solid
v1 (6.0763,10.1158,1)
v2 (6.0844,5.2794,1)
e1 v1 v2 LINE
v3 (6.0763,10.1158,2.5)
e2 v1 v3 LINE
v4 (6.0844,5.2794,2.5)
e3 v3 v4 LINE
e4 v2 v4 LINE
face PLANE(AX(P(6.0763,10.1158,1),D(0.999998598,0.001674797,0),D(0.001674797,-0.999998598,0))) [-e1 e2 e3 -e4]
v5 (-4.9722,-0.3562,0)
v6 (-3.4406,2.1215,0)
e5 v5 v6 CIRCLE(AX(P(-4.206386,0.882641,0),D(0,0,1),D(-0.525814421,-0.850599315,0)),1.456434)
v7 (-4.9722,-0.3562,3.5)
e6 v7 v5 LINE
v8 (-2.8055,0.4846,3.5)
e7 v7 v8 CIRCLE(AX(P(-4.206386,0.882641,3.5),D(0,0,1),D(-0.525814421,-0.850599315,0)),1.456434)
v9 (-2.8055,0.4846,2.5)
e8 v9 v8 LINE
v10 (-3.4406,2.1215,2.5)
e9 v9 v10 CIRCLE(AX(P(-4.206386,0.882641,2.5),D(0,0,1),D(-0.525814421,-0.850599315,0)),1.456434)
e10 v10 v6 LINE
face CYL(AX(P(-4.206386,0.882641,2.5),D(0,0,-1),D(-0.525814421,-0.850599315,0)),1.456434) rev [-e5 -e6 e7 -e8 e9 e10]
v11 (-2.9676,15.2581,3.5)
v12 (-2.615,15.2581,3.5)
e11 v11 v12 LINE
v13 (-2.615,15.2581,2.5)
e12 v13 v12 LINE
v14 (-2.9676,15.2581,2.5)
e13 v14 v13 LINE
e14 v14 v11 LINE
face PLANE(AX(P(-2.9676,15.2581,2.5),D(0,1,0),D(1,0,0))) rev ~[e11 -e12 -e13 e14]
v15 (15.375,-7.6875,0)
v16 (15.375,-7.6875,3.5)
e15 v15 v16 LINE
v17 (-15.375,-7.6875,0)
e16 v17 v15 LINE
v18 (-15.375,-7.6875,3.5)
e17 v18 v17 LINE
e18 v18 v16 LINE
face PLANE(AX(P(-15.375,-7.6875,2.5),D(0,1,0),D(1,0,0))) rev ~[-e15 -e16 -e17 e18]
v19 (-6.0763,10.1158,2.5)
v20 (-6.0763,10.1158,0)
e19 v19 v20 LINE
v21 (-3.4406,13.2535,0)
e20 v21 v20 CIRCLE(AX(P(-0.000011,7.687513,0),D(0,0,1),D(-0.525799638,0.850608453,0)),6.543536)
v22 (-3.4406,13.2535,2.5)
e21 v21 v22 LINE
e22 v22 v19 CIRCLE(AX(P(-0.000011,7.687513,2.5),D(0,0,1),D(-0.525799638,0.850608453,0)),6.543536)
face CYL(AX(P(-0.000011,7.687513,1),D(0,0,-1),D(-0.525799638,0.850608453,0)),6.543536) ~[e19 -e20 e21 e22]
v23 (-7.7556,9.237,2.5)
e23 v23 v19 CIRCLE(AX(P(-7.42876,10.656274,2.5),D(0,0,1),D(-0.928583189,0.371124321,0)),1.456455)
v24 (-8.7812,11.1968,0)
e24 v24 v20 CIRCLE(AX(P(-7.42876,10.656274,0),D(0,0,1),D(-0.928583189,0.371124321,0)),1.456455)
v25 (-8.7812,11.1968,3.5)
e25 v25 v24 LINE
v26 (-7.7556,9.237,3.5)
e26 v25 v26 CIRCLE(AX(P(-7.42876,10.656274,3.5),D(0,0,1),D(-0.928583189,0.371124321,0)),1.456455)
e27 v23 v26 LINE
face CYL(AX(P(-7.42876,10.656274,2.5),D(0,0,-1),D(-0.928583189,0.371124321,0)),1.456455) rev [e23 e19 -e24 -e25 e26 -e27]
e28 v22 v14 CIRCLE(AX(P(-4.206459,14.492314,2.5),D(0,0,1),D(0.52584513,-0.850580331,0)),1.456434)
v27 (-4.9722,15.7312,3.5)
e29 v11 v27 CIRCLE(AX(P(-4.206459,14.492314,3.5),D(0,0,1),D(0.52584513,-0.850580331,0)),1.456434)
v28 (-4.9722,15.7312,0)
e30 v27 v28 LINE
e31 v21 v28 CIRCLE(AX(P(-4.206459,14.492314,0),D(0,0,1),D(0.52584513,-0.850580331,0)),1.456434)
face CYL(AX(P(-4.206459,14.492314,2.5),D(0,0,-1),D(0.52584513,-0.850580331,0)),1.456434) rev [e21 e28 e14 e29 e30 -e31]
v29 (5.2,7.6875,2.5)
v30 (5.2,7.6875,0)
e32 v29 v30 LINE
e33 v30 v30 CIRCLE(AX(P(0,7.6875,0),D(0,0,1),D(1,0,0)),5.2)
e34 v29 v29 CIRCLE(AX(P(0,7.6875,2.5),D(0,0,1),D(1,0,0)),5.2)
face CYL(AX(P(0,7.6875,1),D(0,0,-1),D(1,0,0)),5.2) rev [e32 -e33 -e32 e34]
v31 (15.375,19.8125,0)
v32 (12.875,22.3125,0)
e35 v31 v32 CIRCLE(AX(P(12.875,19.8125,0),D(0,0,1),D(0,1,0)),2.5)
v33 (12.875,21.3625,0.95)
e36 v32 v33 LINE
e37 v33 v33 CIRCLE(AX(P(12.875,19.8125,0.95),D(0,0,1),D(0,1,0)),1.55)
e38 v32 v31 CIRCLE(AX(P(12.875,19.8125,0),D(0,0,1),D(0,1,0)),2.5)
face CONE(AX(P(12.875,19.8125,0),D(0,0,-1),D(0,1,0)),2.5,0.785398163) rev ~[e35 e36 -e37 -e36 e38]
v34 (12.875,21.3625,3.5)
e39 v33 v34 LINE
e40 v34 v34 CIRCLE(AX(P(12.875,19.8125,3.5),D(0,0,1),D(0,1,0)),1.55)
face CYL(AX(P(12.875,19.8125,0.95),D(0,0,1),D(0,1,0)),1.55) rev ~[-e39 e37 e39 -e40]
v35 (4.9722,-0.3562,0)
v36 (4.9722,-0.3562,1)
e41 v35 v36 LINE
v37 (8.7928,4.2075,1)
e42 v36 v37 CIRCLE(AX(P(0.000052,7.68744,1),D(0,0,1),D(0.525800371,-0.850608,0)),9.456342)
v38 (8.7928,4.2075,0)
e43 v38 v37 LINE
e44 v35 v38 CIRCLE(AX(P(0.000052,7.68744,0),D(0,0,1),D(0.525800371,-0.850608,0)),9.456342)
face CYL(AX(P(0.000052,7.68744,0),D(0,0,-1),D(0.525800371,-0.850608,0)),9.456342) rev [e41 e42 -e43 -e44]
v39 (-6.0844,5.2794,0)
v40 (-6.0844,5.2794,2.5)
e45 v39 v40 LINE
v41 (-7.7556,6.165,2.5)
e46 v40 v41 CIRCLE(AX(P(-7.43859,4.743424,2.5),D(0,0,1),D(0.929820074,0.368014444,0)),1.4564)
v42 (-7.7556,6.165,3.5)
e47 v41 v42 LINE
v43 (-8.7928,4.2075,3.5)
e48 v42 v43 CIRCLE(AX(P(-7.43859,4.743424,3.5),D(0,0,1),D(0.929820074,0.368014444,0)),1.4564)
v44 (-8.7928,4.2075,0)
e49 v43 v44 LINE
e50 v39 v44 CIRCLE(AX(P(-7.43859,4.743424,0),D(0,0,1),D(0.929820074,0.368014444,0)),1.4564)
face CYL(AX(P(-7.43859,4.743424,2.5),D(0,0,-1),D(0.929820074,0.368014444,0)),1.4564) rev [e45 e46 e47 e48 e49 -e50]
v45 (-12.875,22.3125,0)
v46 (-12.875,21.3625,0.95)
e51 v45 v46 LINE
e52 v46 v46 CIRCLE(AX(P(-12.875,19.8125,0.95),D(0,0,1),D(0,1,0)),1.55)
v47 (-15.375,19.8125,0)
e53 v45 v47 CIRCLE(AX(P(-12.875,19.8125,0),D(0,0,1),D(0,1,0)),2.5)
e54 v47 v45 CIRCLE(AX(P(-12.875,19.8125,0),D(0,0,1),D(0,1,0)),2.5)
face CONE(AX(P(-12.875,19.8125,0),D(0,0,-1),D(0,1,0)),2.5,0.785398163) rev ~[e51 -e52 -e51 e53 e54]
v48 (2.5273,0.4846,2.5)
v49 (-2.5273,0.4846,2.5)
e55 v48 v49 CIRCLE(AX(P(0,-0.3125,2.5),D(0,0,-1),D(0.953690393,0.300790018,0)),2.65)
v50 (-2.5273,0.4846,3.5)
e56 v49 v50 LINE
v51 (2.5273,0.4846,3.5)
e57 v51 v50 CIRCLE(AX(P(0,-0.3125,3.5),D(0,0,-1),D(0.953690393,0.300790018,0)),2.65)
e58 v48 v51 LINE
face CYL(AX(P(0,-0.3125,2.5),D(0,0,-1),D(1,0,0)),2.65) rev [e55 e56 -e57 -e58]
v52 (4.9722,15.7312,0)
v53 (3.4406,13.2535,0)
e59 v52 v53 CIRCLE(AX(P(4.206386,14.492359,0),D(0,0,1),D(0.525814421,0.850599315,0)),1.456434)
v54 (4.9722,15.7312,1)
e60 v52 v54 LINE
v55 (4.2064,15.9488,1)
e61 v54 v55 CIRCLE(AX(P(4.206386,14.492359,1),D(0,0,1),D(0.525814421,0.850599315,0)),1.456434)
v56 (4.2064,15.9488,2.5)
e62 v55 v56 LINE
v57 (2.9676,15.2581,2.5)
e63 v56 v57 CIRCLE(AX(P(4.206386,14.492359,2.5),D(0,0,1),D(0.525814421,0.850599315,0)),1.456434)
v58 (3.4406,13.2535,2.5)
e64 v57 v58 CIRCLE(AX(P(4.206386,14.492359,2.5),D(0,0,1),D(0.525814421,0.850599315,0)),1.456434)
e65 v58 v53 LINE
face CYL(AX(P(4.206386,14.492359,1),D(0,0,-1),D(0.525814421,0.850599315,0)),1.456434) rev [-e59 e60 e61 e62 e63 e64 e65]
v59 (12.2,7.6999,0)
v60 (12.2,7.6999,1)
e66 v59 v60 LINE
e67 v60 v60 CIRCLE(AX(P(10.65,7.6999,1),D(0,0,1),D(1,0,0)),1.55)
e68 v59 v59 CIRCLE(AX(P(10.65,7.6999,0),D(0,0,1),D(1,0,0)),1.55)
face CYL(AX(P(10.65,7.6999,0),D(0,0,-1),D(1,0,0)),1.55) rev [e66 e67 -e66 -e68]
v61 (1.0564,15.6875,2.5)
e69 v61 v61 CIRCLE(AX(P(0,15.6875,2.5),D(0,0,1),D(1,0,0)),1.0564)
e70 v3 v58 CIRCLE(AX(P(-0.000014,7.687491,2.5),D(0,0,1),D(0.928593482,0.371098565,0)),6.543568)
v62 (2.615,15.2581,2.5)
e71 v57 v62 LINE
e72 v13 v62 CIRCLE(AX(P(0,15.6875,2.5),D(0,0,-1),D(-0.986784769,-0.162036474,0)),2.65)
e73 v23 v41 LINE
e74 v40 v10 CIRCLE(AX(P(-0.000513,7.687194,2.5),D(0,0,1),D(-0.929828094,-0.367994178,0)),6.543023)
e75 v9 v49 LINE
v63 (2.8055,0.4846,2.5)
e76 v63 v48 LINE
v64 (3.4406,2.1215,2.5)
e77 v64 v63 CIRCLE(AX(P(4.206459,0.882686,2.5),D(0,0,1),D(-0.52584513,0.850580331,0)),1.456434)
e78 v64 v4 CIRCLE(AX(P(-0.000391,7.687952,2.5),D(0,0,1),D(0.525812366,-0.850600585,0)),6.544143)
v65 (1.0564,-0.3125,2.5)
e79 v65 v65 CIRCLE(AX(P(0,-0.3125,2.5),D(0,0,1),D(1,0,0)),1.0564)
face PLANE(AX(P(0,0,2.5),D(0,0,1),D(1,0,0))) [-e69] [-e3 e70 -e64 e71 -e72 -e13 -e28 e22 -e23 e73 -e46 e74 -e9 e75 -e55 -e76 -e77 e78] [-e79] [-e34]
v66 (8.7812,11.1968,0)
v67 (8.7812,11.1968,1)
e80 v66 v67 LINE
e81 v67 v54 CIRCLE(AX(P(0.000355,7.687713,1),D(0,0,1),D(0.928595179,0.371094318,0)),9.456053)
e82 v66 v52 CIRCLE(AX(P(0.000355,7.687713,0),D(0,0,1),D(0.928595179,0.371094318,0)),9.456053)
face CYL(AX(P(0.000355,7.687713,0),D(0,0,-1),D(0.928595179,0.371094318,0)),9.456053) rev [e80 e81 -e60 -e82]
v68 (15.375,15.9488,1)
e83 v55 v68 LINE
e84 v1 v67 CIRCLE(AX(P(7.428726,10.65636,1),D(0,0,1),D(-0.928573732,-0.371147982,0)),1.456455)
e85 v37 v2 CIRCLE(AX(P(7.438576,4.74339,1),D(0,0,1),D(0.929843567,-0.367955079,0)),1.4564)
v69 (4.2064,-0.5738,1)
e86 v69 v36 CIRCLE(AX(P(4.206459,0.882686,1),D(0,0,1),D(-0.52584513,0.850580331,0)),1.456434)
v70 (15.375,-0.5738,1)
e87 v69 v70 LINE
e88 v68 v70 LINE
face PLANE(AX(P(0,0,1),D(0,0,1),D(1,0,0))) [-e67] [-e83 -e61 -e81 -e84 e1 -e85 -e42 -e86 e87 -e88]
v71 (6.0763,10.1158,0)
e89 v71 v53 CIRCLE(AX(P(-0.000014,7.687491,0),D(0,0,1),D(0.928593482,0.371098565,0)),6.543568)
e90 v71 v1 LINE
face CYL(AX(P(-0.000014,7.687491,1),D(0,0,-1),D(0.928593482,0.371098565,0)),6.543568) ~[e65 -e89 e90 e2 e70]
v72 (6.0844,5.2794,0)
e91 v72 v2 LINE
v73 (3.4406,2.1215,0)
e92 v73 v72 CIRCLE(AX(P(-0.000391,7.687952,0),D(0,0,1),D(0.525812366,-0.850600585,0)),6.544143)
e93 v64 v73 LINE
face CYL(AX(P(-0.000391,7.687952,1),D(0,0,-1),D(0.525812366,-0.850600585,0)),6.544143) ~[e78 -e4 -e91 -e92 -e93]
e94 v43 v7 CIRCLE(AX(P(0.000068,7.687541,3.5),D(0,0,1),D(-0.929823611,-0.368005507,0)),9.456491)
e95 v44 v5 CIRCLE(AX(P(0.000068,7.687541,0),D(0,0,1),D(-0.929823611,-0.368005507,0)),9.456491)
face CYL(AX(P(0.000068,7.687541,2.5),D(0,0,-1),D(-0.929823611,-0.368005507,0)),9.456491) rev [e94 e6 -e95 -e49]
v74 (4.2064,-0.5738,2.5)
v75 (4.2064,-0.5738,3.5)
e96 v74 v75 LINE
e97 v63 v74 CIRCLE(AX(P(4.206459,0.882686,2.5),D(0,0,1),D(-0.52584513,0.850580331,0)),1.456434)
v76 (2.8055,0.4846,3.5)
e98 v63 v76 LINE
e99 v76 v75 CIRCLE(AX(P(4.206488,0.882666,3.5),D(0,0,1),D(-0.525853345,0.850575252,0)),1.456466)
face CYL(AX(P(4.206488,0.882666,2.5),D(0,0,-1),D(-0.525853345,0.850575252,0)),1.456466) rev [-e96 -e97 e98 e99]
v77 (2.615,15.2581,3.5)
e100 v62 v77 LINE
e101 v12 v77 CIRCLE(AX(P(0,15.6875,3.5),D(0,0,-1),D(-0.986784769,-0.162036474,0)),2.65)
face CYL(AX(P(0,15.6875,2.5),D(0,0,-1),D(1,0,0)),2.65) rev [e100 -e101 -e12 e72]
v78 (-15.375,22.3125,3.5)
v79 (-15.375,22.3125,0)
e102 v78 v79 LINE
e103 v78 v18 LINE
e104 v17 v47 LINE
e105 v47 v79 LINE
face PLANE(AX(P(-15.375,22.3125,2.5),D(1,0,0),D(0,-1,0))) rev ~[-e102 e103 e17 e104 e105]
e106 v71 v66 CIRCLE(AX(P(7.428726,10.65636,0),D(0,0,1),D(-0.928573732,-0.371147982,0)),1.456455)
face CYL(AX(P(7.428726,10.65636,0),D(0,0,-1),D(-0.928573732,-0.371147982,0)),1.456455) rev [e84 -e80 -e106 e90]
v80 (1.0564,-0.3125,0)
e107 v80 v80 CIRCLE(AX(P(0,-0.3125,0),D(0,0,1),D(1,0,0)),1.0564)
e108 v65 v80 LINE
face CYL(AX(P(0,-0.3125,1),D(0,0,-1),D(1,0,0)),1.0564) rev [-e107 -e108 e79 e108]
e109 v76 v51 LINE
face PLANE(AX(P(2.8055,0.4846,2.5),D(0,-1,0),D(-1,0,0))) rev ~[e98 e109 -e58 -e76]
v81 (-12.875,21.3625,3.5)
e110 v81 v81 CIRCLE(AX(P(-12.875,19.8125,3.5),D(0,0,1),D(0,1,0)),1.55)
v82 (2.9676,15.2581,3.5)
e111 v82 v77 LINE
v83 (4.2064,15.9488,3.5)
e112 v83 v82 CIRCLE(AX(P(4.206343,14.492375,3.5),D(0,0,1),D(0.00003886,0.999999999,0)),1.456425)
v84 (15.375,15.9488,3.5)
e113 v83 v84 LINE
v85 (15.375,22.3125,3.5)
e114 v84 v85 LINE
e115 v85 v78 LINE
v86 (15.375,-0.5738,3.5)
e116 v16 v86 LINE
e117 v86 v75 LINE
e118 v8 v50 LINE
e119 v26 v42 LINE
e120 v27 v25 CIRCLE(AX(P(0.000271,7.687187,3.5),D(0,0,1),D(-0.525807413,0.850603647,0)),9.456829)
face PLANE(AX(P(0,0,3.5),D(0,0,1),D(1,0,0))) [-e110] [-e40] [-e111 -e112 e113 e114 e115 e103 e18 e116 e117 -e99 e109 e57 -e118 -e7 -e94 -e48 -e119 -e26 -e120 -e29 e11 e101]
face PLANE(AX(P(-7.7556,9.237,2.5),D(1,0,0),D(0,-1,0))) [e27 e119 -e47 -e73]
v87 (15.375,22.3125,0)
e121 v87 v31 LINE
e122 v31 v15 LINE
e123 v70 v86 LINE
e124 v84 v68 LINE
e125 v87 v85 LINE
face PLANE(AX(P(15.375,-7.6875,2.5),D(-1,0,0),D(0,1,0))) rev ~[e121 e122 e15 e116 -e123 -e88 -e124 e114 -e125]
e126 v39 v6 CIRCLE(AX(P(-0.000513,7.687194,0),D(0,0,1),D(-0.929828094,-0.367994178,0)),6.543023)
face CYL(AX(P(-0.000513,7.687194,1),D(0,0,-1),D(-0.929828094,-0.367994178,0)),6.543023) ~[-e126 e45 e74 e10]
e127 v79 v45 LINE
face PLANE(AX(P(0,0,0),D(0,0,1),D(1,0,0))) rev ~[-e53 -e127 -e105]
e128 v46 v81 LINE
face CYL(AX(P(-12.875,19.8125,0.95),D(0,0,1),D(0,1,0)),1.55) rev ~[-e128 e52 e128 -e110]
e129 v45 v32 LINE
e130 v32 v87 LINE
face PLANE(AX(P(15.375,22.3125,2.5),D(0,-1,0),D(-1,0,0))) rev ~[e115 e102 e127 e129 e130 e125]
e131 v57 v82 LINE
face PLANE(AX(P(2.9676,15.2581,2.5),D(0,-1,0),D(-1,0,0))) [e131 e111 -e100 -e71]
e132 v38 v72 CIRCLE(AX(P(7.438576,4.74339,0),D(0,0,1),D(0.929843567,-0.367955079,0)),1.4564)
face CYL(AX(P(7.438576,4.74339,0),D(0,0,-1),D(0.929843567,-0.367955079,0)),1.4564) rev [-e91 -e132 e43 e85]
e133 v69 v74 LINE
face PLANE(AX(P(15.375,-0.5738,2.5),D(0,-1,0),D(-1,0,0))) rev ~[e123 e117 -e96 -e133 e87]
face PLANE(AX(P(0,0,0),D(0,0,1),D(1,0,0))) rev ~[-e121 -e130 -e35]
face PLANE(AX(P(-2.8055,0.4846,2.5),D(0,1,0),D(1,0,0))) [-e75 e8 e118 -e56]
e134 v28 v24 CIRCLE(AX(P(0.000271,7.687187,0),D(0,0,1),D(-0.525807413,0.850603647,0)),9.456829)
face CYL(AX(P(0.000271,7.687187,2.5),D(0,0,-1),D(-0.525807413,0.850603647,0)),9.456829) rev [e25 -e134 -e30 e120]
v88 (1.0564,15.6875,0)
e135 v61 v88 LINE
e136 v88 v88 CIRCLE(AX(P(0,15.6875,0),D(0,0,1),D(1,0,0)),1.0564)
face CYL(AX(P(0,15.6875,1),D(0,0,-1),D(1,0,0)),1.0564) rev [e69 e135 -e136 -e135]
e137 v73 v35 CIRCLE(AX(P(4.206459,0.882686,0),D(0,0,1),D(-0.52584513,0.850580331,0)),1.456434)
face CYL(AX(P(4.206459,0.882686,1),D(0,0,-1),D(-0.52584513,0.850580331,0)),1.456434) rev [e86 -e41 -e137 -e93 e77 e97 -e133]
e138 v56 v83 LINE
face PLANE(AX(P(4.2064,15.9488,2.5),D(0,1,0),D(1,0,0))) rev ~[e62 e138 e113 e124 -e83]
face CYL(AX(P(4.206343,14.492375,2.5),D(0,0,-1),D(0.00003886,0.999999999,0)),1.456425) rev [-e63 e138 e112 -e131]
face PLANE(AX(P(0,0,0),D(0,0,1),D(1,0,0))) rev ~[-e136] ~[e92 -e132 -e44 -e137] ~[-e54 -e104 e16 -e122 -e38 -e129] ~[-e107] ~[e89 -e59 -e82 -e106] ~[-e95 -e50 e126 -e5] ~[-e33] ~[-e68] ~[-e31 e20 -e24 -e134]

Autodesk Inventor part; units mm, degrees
ref_plane "YZ Plane" through (0, 0, 0) normal (1, 0, 0) x (0, 1, 0)
ref_plane "XZ Plane" through (0, 0, 0) normal (0, 1, 0) x (-1, 0, 0)
ref_plane "XY Plane" through (0, 0, 0) normal (0, 0, 1) x (1, 0, 0)
ref_plane "Work Plane1" through (0, 0, 0) normal (0, 0, 1) x (1, 0, 0)
sketch "Sketch1" plane through (0, 0, 0) normal (0, 0, 1) x (1, 0, 0)
  arc A0 (-3.651, 13.5937) -> (-4.7619, 15.391) centre (-4.2064, 14.4923) ccw projected
  arc A1 (-3.651, 13.5937) -> (-6.4477, 10.2643) centre (0, 7.6875) ccw projected
  arc A2 (-8.4097, 11.0483) -> (-6.4477, 10.2643) centre (-7.4287, 10.6563) ccw projected
  arc A3 (-4.7619, 15.391) -> (-8.4097, 11.0483) centre (0, 7.6875) ccw projected
  arc A4 (6.4477, 10.2643) -> (8.4097, 11.0483) centre (7.4287, 10.6563) ccw projected
  arc A5 (6.4477, 10.2643) -> (3.651, 13.5937) centre (0, 7.6875) ccw projected
  arc A6 (4.7619, 15.391) -> (3.651, 13.5937) centre (4.2064, 14.4923) ccw projected
  arc A7 (8.4097, 11.0483) -> (4.7619, 15.391) centre (0, 7.6875) ccw projected
  arc A8 (-6.4563, 5.1322) -> (-8.4209, 4.3547) centre (-7.4386, 4.7434) ccw projected
  arc A9 (-6.4563, 5.1322) -> (-3.651, 1.7813) centre (0, 7.6875) ccw projected
  arc A10 (-4.7619, -0.016) -> (-3.651, 1.7813) centre (-4.2064, 0.8827) ccw projected
  arc A11 (-8.4209, 4.3547) -> (-4.7619, -0.016) centre (0, 7.6875) ccw projected
  arc A12 (3.651, 1.7813) -> (4.7619, -0.016) centre (4.2064, 0.8827) ccw projected
  arc A13 (3.651, 1.7813) -> (6.4563, 5.1322) centre (0, 7.6875) ccw projected
  arc A14 (8.4209, 4.3547) -> (6.4563, 5.1322) centre (7.4386, 4.7434) ccw projected
  arc A15 (4.7619, -0.016) -> (8.4209, 4.3547) centre (0, 7.6875) ccw projected
  circle A16 centre (10.65, 7.6999) radius 1.15 projected
  circle A17 centre (0, 15.6875) radius 1.0564 projected
  circle A18 centre (0, -0.3125) radius 1.0564 projected
  circle A19 centre (0, 7.6875) radius 5 projected
  circle A20 centre (0, 7.6875) radius 13.7 projected
  line L0 (-116.625, -11.1875) -> (15.375, -11.1875) projected
  line L1 (15.375, -11.1875) -> (15.375, -7.6875) projected
  line L2 (-116.625, -7.6875) -> (15.375, -7.6875) projected
  line L3 (-116.625, -11.1875) -> (-116.625, -7.6875) projected
  line L4 (15.375, -7.6875) -> (-15.375, -7.6875)
  line L5 (-15.375, -7.6875) -> (-15.375, 22.3125)
  line L6 (-15.375, 22.3125) -> (15.375, 22.3125)
  line L7 (15.375, 22.3125) -> (15.375, -7.6875)
  circle A21 centre (0, 7.6875) radius 14.375 projected
  circle A22 centre (0, 7.6875) radius 5.2
  arc A23 (-3.4406, 13.2535) -> (-4.9722, 15.7312) centre (-4.2064, 14.4923) ccw
  arc A24 (-3.4406, 13.2535) -> (-6.0763, 10.1158) centre (0, 7.6875) ccw
  arc A25 (-8.7812, 11.1968) -> (-6.0763, 10.1158) centre (-7.4287, 10.6563) ccw
  arc A26 (-4.9722, 15.7312) -> (-8.7812, 11.1968) centre (0, 7.6875) ccw
  arc A27 (4.9722, 15.7312) -> (3.4406, 13.2535) centre (4.2064, 14.4923) ccw
  arc A28 (6.0763, 10.1158) -> (3.4406, 13.2535) centre (0, 7.6875) ccw
  arc A29 (6.0763, 10.1158) -> (8.7812, 11.1968) centre (7.4287, 10.6563) ccw
  arc A30 (8.7812, 11.1968) -> (4.9722, 15.7312) centre (0, 7.6875) ccw
  arc A31 (3.4406, 2.1215) -> (6.0844, 5.2794) centre (0, 7.6875) ccw
  arc A32 (3.4406, 2.1215) -> (4.9722, -0.3562) centre (4.2064, 0.8827) ccw
  arc A33 (4.9722, -0.3562) -> (8.7928, 4.2075) centre (0, 7.6875) ccw
  arc A34 (8.7928, 4.2075) -> (6.0844, 5.2794) centre (7.4386, 4.7434) ccw
  arc A35 (-6.0844, 5.2794) -> (-8.7928, 4.2075) centre (-7.4386, 4.7434) ccw
  arc A36 (-6.0844, 5.2794) -> (-3.4406, 2.1215) centre (0, 7.6875) ccw
  arc A37 (-4.9722, -0.3562) -> (-3.4406, 2.1215) centre (-4.2064, 0.8827) ccw
  arc A38 (-8.7928, 4.2075) -> (-4.9722, -0.3562) centre (0, 7.6875) ccw
  circle A39 centre (10.65, 7.6999) radius 1.55
  point P0 (0, 0)
  dimension "d0" = 30
  dimension "d1" = 15.375
  dimension "d2" = 15.375
  dimension "d3" = 0.2
  dimension "d4" = 0.4
  dimension "d5" = 0.4
  dimension "d6" = 0.4
  dimension "d7" = 0.4
  dimension "d8" = 0.4
extrude "Extrusion1" add sketch "Sketch1" along normal blind 1 contours A20 | L2 L5 L6 L7 | A21
sketch "Sketch2" plane through (0, 0, 1) normal (0, 0, 1) x (1, 0, 0)
  line L0 (15.375, 22.3125) -> (-15.375, 22.3125) projected
  line L1 (-15.375, 22.3125) -> (-15.375, -7.6875) projected
  line L2 (-15.375, -7.6875) -> (15.375, -7.6875) projected
  line L3 (15.375, -7.6875) -> (15.375, 22.3125) projected
  circle A0 centre (0, 15.6875) radius 1.0564 projected
  circle A1 centre (0, -0.3125) radius 1.0564 projected
  circle A2 centre (0, 7.6875) radius 5.2 projected
  arc A3 (-3.4406, 13.2535) -> (-6.0763, 10.1158) centre (0, 7.6875) ccw projected
  arc A4 (-8.7812, 11.1968) -> (-6.0763, 10.1158) centre (-7.4287, 10.6563) ccw projected
  arc A5 (-4.9722, 15.7312) -> (-8.7812, 11.1968) centre (0, 7.6875) ccw projected
  arc A6 (-3.4406, 13.2535) -> (-4.9722, 15.7312) centre (-4.2064, 14.4923) ccw projected
  arc A7 (6.0763, 10.1158) -> (3.4406, 13.2535) centre (0, 7.6875) ccw projected
  arc A8 (4.9722, 15.7312) -> (3.4406, 13.2535) centre (4.2064, 14.4923) ccw projected
  arc A9 (8.7812, 11.1968) -> (4.9722, 15.7312) centre (0, 7.6875) ccw projected
  arc A10 (6.0763, 10.1158) -> (8.7812, 11.1968) centre (7.4287, 10.6563) ccw projected
  arc A11 (3.4406, 2.1215) -> (4.9722, -0.3562) centre (4.2064, 0.8827) ccw projected
  arc A12 (3.4406, 2.1215) -> (6.0844, 5.2794) centre (0, 7.6875) ccw projected
  arc A13 (8.7928, 4.2075) -> (6.0844, 5.2794) centre (7.4386, 4.7434) ccw projected
  arc A14 (4.9722, -0.3562) -> (8.7928, 4.2075) centre (0, 7.6875) ccw projected
  arc A15 (-6.0844, 5.2794) -> (-3.4406, 2.1215) centre (0, 7.6875) ccw projected
  arc A16 (-4.9722, -0.3562) -> (-3.4406, 2.1215) centre (-4.2064, 0.8827) ccw projected
  arc A17 (-8.7928, 4.2075) -> (-4.9722, -0.3562) centre (0, 7.6875) ccw projected
  arc A18 (-6.0844, 5.2794) -> (-8.7928, 4.2075) centre (-7.4386, 4.7434) ccw projected
  circle A19 centre (10.65, 7.6999) radius 1.55 projected
  arc A20 (4.9722, 15.7312) -> (3.4406, 13.2535) centre (4.2064, 14.4923) ccw projected
  line L4 (4.2064, 15.9488) -> (15.375, 15.9488)
  line L5 (15.375, -7.6875) -> (15.375, 22.3125) projected
  line L6 (4.2064, -0.5738) -> (15.375, -0.5738)
  arc A21 (6.0763, 10.1158) -> (8.7812, 11.1968) centre (7.4287, 10.6563) ccw projected
  line L7 (6.0763, 10.1158) -> (6.0844, 5.2794)
  point P0 (0, 0)
extrude "Extrusion2" add sketch "Sketch2" along normal blind 1.5 contours L3 L4 A8 A7 L7 A12 A11 L6 L2 L1 L0
sketch "Sketch3" plane through (0, 0, 2.5) normal (0, 0, 1) x (1, 0, 0)
  line L0 (15.375, -7.6875) -> (15.375, -0.5738) projected
  line L1 (15.375, -0.5738) -> (4.2064, -0.5738) projected
  arc A0 (3.4406, 2.1215) -> (4.2064, -0.5738) centre (4.2064, 0.8827) ccw projected
  arc A1 (3.4406, 2.1215) -> (6.0844, 5.2794) centre (0, 7.6875) ccw projected
  line L2 (6.0844, 5.2794) -> (6.0763, 10.1158) projected
  arc A2 (6.0763, 10.1158) -> (3.4406, 13.2535) centre (0, 7.6875) ccw projected
  arc A3 (4.2064, 15.9488) -> (3.4406, 13.2535) centre (4.2064, 14.4923) ccw projected
  line L3 (4.2064, 15.9488) -> (15.375, 15.9488) projected
  line L4 (15.375, 15.9488) -> (15.375, 22.3125) projected
  line L5 (15.375, 22.3125) -> (-15.375, 22.3125) projected
  line L6 (-15.375, 22.3125) -> (-15.375, -7.6875) projected
  line L7 (-15.375, -7.6875) -> (15.375, -7.6875) projected
  circle A4 centre (0, 15.6875) radius 1.0564 projected
  circle A5 centre (0, -0.3125) radius 1.0564 projected
  arc A6 (-6.0844, 5.2794) -> (-8.7928, 4.2075) centre (-7.4386, 4.7434) ccw projected
  arc A7 (-6.0844, 5.2794) -> (-3.4406, 2.1215) centre (0, 7.6875) ccw projected
  arc A8 (-4.9722, -0.3562) -> (-3.4406, 2.1215) centre (-4.2064, 0.8827) ccw projected
  arc A9 (-8.7928, 4.2075) -> (-4.9722, -0.3562) centre (0, 7.6875) ccw projected
  arc A10 (-3.4406, 13.2535) -> (-4.9722, 15.7312) centre (-4.2064, 14.4923) ccw projected
  arc A11 (-3.4406, 13.2535) -> (-6.0763, 10.1158) centre (0, 7.6875) ccw projected
  arc A12 (-8.7812, 11.1968) -> (-6.0763, 10.1158) centre (-7.4287, 10.6563) ccw projected
  arc A13 (-4.9722, 15.7312) -> (-8.7812, 11.1968) centre (0, 7.6875) ccw projected
  circle A14 centre (0, 7.6875) radius 5.2 projected
  circle A15 centre (0, 15.6875) radius 2.65
  circle A16 centre (0, -0.3125) radius 1.0564 projected
  circle A17 centre (0, -0.3125) radius 2.65
  arc A18 (-2.4425, 10.6818) -> (-4.3563, 11.5819) centre (-5.3868, 6.906) ccw projected
  arc A19 (-4.3563, 11.5819) -> (-4.9119, 10.8525) centre (0, 7.6875) ccw projected
  arc A20 (-4.9119, 10.8525) -> (-3.5356, 9.2466) centre (-0.678, 13.0883) ccw projected
  arc A21 (-3.5356, 9.2466) -> (-3.736, 8.6743) centre (0, 7.6875) ccw projected
  arc A22 (-3.736, 8.6743) -> (-5.8134, 8.2775) centre (-3.8987, 3.889) ccw projected
  arc A23 (-5.8134, 8.2775) -> (-5.8341, 7.3609) centre (0, 7.6875) ccw projected
  arc A24 (-5.8341, 7.3609) -> (-3.7768, 6.8706) centre (-3.723, 11.6584) ccw projected
  arc A25 (-3.7768, 6.8706) -> (-3.6025, 6.2899) centre (0, 7.6875) ccw projected
  arc A26 (-3.6025, 6.2899) -> (-5.05, 4.7478) centre (-0.9214, 2.3228) ccw projected
  arc A27 (-5.05, 4.7478) -> (-4.5279, 3.994) centre (0, 7.6875) ccw projected
  arc A28 (-4.5279, 3.994) -> (-2.5753, 4.8067) centre (-5.346, 8.7117) ccw projected
  arc A29 (-2.5753, 4.8067) -> (-2.093, 4.4393) centre (0, 7.6875) ccw projected
  arc A30 (-2.093, 4.4393) -> (-2.3576, 2.341) centre (2.4078, 2.8058) ccw projected
  arc A31 (-2.3576, 2.341) -> (-1.4922, 2.038) centre (0, 7.6875) ccw projected
  arc A32 (-1.4922, 2.038) -> (-0.3902, 3.8431) centre (-4.927, 5.3738) ccw projected
  arc A33 (-0.3902, 3.8431) -> (0.216, 3.8294) centre (0, 7.6875) ccw projected
  arc A34 (0.216, 3.8294) -> (1.2353, 1.9763) centre (4.8174, 5.1534) ccw projected
  arc A35 (1.2353, 1.9763) -> (2.1135, 2.2398) centre (0, 7.6875) ccw projected
  arc A36 (2.1135, 2.2398) -> (1.944, 4.348) centre (-2.6261, 2.9196) ccw projected
  arc A37 (1.944, 4.348) -> (2.4425, 4.6932) centre (0, 7.6875) ccw projected
  arc A38 (2.4425, 4.6932) -> (4.3563, 3.7931) centre (5.3868, 8.469) ccw projected
  arc A39 (4.3563, 3.7931) -> (4.9119, 4.5225) centre (0, 7.6875) ccw projected
  arc A40 (4.9119, 4.5225) -> (3.5356, 6.1284) centre (0.678, 2.2867) ccw projected
  arc A41 (3.5356, 6.1284) -> (3.736, 6.7007) centre (0, 7.6875) ccw projected
  arc A42 (3.736, 6.7007) -> (5.8134, 7.0975) centre (3.8987, 11.486) ccw projected
  arc A43 (5.8134, 7.0975) -> (5.8341, 8.0141) centre (0, 7.6875) ccw projected
  arc A44 (5.8341, 8.0141) -> (3.7768, 8.5044) centre (3.723, 3.7166) ccw projected
  arc A45 (3.7768, 8.5044) -> (3.6025, 9.0851) centre (0, 7.6875) ccw projected
  arc A46 (3.6025, 9.0851) -> (5.05, 10.6272) centre (0.9214, 13.0522) ccw projected
  arc A47 (5.05, 10.6272) -> (4.5279, 11.381) centre (0, 7.6875) ccw projected
  arc A48 (4.5279, 11.381) -> (2.5753, 10.5683) centre (5.346, 6.6633) ccw projected
  arc A49 (2.5753, 10.5683) -> (2.093, 10.9357) centre (0, 7.6875) ccw projected
  arc A50 (2.093, 10.9357) -> (2.3576, 13.034) centre (-2.4078, 12.5692) ccw projected
  arc A51 (2.3576, 13.034) -> (1.4922, 13.337) centre (0, 7.6875) ccw projected
  arc A52 (1.4922, 13.337) -> (0.3902, 11.5319) centre (4.927, 10.0012) ccw projected
  arc A53 (0.3902, 11.5319) -> (-0.216, 11.5456) centre (0, 7.6875) ccw projected
  arc A54 (-0.216, 11.5456) -> (-1.2353, 13.3987) centre (-4.8174, 10.2216) ccw projected
  arc A55 (-1.2353, 13.3987) -> (-2.1135, 13.1352) centre (0, 7.6875) ccw projected
  arc A56 (-2.1135, 13.1352) -> (-1.944, 11.027) centre (2.6261, 12.4554) ccw projected
  arc A57 (-1.944, 11.027) -> (-2.4425, 10.6818) centre (0, 7.6875) ccw projected
  circle A58 centre (0, 7.6875) radius 5.8433
  circle A59 centre (0, 7.6875) radius 6.5436
  arc A60 (-3.4406, 13.2535) -> (-4.9722, 15.7312) centre (-4.2064, 14.4923) ccw projected
  line L8 (-2.9676, 15.2581) -> (-2.615, 15.2581)
  arc A61 (4.9722, 15.7312) -> (3.4406, 13.2535) centre (4.2064, 14.4923) ccw projected
  line L9 (2.9676, 15.2581) -> (2.615, 15.2581)
  arc A62 (3.4406, 2.1215) -> (4.9722, -0.3562) centre (4.2064, 0.8827) ccw projected
  line L10 (2.8055, 0.4846) -> (2.5273, 0.4846)
  arc A63 (-4.9722, -0.3562) -> (-3.4406, 2.1215) centre (-4.2064, 0.8827) ccw projected
  line L11 (-2.8055, 0.4846) -> (-2.5273, 0.4846)
  arc A64 (-8.7812, 11.1968) -> (-6.0763, 10.1158) centre (-7.4287, 10.6563) ccw projected
  line L12 (-7.7556, 9.237) -> (-7.7556, 6.165)
  point P0 (0, 0)
  point P1 (-6.0844, 5.2794)
  point P2 (-6.0763, 10.1158)
  point P3 (2.9676, 15.2581)
  dimension "d13" = 5.3
  dimension "d14" = 5.3
extrude "Extrusion3" add sketch "Sketch3" along normal blind 1 contours L7 L6 L5 L4 L3 A3 L9 A15 L8 A10 A13 A12 L12 A6 A9 A8 L11 A17 L10 A0 L1 L0
sketch "Sketch5" plane through (0, 0, 0) normal (0, 0, -1) x (-1, 0, 0)
  line L0 (-15.375, 22.3125) -> (15.375, 22.3125) projected
  line L1 (-15.375, -7.6875) -> (-15.375, 22.3125) projected
  line L2 (15.375, -7.6875) -> (-15.375, -7.6875) projected
  line L3 (15.375, 22.3125) -> (15.375, -7.6875) projected
  circle A0 centre (0, 15.6875) radius 1.0564 projected
  circle A1 centre (0, -0.3125) radius 1.0564 projected
  circle A2 centre (0, 7.6875) radius 5.2 projected
  arc A3 (6.0763, 10.1158) -> (3.4406, 13.2535) centre (0, 7.6875) ccw projected
  arc A4 (4.9722, 15.7312) -> (3.4406, 13.2535) centre (4.2064, 14.4923) ccw projected
  arc A5 (8.7812, 11.1968) -> (4.9722, 15.7312) centre (0, 7.6875) ccw projected
  arc A6 (6.0763, 10.1158) -> (8.7812, 11.1968) centre (7.4287, 10.6563) ccw projected
  arc A7 (-3.4406, 13.2535) -> (-6.0763, 10.1158) centre (0, 7.6875) ccw projected
  arc A8 (-8.7812, 11.1968) -> (-6.0763, 10.1158) centre (-7.4287, 10.6563) ccw projected
  arc A9 (-4.9722, 15.7312) -> (-8.7812, 11.1968) centre (0, 7.6875) ccw projected
  arc A10 (-3.4406, 13.2535) -> (-4.9722, 15.7312) centre (-4.2064, 14.4923) ccw projected
  arc A11 (-4.9722, -0.3562) -> (-3.4406, 2.1215) centre (-4.2064, 0.8827) ccw projected
  arc A12 (-8.7928, 4.2075) -> (-4.9722, -0.3562) centre (0, 7.6875) ccw projected
  arc A13 (-6.0844, 5.2794) -> (-8.7928, 4.2075) centre (-7.4386, 4.7434) ccw projected
  arc A14 (-6.0844, 5.2794) -> (-3.4406, 2.1215) centre (0, 7.6875) ccw projected
  arc A15 (3.4406, 2.1215) -> (6.0844, 5.2794) centre (0, 7.6875) ccw projected
  arc A16 (8.7928, 4.2075) -> (6.0844, 5.2794) centre (7.4386, 4.7434) ccw projected
  arc A17 (4.9722, -0.3562) -> (8.7928, 4.2075) centre (0, 7.6875) ccw projected
  arc A18 (3.4406, 2.1215) -> (4.9722, -0.3562) centre (4.2064, 0.8827) ccw projected
  circle A19 centre (-10.65, 7.6999) radius 1.55 projected
  circle A20 centre (-12.875, 19.8125) radius 2.5
  circle A21 centre (12.875, 19.8125) radius 2.5
  point P0 (0, 0)
  dimension "d26" = 5
  dimension "d27" = 5
  dimension "d28" = 2.5
  dimension "d29" = 2.5
  dimension "d30" = 2.5
  dimension "d31" = 2.5
hole "Hole2" at (12.875, 19.8125, 0) at (-12.875, 19.8125, 0) direction (0, 0, 1) diameter 3.1 end through all countersink diameter 5 countersink angle 90 clearance for "Countersunk Flat Head Screw ISO 2009/7046" size "M2.5" standard "ISO"
equation "\"d2\" = d1"
equation "\"d28\" = 0.5 * d26"
equation "\"d29\" = 0.5 * d26"
equation "\"d30\" = 0.5 * d27"
equation "\"d31\" = 0.5 * d27"
properties part number "front_motur_holder" material "Nylon 6/6"
